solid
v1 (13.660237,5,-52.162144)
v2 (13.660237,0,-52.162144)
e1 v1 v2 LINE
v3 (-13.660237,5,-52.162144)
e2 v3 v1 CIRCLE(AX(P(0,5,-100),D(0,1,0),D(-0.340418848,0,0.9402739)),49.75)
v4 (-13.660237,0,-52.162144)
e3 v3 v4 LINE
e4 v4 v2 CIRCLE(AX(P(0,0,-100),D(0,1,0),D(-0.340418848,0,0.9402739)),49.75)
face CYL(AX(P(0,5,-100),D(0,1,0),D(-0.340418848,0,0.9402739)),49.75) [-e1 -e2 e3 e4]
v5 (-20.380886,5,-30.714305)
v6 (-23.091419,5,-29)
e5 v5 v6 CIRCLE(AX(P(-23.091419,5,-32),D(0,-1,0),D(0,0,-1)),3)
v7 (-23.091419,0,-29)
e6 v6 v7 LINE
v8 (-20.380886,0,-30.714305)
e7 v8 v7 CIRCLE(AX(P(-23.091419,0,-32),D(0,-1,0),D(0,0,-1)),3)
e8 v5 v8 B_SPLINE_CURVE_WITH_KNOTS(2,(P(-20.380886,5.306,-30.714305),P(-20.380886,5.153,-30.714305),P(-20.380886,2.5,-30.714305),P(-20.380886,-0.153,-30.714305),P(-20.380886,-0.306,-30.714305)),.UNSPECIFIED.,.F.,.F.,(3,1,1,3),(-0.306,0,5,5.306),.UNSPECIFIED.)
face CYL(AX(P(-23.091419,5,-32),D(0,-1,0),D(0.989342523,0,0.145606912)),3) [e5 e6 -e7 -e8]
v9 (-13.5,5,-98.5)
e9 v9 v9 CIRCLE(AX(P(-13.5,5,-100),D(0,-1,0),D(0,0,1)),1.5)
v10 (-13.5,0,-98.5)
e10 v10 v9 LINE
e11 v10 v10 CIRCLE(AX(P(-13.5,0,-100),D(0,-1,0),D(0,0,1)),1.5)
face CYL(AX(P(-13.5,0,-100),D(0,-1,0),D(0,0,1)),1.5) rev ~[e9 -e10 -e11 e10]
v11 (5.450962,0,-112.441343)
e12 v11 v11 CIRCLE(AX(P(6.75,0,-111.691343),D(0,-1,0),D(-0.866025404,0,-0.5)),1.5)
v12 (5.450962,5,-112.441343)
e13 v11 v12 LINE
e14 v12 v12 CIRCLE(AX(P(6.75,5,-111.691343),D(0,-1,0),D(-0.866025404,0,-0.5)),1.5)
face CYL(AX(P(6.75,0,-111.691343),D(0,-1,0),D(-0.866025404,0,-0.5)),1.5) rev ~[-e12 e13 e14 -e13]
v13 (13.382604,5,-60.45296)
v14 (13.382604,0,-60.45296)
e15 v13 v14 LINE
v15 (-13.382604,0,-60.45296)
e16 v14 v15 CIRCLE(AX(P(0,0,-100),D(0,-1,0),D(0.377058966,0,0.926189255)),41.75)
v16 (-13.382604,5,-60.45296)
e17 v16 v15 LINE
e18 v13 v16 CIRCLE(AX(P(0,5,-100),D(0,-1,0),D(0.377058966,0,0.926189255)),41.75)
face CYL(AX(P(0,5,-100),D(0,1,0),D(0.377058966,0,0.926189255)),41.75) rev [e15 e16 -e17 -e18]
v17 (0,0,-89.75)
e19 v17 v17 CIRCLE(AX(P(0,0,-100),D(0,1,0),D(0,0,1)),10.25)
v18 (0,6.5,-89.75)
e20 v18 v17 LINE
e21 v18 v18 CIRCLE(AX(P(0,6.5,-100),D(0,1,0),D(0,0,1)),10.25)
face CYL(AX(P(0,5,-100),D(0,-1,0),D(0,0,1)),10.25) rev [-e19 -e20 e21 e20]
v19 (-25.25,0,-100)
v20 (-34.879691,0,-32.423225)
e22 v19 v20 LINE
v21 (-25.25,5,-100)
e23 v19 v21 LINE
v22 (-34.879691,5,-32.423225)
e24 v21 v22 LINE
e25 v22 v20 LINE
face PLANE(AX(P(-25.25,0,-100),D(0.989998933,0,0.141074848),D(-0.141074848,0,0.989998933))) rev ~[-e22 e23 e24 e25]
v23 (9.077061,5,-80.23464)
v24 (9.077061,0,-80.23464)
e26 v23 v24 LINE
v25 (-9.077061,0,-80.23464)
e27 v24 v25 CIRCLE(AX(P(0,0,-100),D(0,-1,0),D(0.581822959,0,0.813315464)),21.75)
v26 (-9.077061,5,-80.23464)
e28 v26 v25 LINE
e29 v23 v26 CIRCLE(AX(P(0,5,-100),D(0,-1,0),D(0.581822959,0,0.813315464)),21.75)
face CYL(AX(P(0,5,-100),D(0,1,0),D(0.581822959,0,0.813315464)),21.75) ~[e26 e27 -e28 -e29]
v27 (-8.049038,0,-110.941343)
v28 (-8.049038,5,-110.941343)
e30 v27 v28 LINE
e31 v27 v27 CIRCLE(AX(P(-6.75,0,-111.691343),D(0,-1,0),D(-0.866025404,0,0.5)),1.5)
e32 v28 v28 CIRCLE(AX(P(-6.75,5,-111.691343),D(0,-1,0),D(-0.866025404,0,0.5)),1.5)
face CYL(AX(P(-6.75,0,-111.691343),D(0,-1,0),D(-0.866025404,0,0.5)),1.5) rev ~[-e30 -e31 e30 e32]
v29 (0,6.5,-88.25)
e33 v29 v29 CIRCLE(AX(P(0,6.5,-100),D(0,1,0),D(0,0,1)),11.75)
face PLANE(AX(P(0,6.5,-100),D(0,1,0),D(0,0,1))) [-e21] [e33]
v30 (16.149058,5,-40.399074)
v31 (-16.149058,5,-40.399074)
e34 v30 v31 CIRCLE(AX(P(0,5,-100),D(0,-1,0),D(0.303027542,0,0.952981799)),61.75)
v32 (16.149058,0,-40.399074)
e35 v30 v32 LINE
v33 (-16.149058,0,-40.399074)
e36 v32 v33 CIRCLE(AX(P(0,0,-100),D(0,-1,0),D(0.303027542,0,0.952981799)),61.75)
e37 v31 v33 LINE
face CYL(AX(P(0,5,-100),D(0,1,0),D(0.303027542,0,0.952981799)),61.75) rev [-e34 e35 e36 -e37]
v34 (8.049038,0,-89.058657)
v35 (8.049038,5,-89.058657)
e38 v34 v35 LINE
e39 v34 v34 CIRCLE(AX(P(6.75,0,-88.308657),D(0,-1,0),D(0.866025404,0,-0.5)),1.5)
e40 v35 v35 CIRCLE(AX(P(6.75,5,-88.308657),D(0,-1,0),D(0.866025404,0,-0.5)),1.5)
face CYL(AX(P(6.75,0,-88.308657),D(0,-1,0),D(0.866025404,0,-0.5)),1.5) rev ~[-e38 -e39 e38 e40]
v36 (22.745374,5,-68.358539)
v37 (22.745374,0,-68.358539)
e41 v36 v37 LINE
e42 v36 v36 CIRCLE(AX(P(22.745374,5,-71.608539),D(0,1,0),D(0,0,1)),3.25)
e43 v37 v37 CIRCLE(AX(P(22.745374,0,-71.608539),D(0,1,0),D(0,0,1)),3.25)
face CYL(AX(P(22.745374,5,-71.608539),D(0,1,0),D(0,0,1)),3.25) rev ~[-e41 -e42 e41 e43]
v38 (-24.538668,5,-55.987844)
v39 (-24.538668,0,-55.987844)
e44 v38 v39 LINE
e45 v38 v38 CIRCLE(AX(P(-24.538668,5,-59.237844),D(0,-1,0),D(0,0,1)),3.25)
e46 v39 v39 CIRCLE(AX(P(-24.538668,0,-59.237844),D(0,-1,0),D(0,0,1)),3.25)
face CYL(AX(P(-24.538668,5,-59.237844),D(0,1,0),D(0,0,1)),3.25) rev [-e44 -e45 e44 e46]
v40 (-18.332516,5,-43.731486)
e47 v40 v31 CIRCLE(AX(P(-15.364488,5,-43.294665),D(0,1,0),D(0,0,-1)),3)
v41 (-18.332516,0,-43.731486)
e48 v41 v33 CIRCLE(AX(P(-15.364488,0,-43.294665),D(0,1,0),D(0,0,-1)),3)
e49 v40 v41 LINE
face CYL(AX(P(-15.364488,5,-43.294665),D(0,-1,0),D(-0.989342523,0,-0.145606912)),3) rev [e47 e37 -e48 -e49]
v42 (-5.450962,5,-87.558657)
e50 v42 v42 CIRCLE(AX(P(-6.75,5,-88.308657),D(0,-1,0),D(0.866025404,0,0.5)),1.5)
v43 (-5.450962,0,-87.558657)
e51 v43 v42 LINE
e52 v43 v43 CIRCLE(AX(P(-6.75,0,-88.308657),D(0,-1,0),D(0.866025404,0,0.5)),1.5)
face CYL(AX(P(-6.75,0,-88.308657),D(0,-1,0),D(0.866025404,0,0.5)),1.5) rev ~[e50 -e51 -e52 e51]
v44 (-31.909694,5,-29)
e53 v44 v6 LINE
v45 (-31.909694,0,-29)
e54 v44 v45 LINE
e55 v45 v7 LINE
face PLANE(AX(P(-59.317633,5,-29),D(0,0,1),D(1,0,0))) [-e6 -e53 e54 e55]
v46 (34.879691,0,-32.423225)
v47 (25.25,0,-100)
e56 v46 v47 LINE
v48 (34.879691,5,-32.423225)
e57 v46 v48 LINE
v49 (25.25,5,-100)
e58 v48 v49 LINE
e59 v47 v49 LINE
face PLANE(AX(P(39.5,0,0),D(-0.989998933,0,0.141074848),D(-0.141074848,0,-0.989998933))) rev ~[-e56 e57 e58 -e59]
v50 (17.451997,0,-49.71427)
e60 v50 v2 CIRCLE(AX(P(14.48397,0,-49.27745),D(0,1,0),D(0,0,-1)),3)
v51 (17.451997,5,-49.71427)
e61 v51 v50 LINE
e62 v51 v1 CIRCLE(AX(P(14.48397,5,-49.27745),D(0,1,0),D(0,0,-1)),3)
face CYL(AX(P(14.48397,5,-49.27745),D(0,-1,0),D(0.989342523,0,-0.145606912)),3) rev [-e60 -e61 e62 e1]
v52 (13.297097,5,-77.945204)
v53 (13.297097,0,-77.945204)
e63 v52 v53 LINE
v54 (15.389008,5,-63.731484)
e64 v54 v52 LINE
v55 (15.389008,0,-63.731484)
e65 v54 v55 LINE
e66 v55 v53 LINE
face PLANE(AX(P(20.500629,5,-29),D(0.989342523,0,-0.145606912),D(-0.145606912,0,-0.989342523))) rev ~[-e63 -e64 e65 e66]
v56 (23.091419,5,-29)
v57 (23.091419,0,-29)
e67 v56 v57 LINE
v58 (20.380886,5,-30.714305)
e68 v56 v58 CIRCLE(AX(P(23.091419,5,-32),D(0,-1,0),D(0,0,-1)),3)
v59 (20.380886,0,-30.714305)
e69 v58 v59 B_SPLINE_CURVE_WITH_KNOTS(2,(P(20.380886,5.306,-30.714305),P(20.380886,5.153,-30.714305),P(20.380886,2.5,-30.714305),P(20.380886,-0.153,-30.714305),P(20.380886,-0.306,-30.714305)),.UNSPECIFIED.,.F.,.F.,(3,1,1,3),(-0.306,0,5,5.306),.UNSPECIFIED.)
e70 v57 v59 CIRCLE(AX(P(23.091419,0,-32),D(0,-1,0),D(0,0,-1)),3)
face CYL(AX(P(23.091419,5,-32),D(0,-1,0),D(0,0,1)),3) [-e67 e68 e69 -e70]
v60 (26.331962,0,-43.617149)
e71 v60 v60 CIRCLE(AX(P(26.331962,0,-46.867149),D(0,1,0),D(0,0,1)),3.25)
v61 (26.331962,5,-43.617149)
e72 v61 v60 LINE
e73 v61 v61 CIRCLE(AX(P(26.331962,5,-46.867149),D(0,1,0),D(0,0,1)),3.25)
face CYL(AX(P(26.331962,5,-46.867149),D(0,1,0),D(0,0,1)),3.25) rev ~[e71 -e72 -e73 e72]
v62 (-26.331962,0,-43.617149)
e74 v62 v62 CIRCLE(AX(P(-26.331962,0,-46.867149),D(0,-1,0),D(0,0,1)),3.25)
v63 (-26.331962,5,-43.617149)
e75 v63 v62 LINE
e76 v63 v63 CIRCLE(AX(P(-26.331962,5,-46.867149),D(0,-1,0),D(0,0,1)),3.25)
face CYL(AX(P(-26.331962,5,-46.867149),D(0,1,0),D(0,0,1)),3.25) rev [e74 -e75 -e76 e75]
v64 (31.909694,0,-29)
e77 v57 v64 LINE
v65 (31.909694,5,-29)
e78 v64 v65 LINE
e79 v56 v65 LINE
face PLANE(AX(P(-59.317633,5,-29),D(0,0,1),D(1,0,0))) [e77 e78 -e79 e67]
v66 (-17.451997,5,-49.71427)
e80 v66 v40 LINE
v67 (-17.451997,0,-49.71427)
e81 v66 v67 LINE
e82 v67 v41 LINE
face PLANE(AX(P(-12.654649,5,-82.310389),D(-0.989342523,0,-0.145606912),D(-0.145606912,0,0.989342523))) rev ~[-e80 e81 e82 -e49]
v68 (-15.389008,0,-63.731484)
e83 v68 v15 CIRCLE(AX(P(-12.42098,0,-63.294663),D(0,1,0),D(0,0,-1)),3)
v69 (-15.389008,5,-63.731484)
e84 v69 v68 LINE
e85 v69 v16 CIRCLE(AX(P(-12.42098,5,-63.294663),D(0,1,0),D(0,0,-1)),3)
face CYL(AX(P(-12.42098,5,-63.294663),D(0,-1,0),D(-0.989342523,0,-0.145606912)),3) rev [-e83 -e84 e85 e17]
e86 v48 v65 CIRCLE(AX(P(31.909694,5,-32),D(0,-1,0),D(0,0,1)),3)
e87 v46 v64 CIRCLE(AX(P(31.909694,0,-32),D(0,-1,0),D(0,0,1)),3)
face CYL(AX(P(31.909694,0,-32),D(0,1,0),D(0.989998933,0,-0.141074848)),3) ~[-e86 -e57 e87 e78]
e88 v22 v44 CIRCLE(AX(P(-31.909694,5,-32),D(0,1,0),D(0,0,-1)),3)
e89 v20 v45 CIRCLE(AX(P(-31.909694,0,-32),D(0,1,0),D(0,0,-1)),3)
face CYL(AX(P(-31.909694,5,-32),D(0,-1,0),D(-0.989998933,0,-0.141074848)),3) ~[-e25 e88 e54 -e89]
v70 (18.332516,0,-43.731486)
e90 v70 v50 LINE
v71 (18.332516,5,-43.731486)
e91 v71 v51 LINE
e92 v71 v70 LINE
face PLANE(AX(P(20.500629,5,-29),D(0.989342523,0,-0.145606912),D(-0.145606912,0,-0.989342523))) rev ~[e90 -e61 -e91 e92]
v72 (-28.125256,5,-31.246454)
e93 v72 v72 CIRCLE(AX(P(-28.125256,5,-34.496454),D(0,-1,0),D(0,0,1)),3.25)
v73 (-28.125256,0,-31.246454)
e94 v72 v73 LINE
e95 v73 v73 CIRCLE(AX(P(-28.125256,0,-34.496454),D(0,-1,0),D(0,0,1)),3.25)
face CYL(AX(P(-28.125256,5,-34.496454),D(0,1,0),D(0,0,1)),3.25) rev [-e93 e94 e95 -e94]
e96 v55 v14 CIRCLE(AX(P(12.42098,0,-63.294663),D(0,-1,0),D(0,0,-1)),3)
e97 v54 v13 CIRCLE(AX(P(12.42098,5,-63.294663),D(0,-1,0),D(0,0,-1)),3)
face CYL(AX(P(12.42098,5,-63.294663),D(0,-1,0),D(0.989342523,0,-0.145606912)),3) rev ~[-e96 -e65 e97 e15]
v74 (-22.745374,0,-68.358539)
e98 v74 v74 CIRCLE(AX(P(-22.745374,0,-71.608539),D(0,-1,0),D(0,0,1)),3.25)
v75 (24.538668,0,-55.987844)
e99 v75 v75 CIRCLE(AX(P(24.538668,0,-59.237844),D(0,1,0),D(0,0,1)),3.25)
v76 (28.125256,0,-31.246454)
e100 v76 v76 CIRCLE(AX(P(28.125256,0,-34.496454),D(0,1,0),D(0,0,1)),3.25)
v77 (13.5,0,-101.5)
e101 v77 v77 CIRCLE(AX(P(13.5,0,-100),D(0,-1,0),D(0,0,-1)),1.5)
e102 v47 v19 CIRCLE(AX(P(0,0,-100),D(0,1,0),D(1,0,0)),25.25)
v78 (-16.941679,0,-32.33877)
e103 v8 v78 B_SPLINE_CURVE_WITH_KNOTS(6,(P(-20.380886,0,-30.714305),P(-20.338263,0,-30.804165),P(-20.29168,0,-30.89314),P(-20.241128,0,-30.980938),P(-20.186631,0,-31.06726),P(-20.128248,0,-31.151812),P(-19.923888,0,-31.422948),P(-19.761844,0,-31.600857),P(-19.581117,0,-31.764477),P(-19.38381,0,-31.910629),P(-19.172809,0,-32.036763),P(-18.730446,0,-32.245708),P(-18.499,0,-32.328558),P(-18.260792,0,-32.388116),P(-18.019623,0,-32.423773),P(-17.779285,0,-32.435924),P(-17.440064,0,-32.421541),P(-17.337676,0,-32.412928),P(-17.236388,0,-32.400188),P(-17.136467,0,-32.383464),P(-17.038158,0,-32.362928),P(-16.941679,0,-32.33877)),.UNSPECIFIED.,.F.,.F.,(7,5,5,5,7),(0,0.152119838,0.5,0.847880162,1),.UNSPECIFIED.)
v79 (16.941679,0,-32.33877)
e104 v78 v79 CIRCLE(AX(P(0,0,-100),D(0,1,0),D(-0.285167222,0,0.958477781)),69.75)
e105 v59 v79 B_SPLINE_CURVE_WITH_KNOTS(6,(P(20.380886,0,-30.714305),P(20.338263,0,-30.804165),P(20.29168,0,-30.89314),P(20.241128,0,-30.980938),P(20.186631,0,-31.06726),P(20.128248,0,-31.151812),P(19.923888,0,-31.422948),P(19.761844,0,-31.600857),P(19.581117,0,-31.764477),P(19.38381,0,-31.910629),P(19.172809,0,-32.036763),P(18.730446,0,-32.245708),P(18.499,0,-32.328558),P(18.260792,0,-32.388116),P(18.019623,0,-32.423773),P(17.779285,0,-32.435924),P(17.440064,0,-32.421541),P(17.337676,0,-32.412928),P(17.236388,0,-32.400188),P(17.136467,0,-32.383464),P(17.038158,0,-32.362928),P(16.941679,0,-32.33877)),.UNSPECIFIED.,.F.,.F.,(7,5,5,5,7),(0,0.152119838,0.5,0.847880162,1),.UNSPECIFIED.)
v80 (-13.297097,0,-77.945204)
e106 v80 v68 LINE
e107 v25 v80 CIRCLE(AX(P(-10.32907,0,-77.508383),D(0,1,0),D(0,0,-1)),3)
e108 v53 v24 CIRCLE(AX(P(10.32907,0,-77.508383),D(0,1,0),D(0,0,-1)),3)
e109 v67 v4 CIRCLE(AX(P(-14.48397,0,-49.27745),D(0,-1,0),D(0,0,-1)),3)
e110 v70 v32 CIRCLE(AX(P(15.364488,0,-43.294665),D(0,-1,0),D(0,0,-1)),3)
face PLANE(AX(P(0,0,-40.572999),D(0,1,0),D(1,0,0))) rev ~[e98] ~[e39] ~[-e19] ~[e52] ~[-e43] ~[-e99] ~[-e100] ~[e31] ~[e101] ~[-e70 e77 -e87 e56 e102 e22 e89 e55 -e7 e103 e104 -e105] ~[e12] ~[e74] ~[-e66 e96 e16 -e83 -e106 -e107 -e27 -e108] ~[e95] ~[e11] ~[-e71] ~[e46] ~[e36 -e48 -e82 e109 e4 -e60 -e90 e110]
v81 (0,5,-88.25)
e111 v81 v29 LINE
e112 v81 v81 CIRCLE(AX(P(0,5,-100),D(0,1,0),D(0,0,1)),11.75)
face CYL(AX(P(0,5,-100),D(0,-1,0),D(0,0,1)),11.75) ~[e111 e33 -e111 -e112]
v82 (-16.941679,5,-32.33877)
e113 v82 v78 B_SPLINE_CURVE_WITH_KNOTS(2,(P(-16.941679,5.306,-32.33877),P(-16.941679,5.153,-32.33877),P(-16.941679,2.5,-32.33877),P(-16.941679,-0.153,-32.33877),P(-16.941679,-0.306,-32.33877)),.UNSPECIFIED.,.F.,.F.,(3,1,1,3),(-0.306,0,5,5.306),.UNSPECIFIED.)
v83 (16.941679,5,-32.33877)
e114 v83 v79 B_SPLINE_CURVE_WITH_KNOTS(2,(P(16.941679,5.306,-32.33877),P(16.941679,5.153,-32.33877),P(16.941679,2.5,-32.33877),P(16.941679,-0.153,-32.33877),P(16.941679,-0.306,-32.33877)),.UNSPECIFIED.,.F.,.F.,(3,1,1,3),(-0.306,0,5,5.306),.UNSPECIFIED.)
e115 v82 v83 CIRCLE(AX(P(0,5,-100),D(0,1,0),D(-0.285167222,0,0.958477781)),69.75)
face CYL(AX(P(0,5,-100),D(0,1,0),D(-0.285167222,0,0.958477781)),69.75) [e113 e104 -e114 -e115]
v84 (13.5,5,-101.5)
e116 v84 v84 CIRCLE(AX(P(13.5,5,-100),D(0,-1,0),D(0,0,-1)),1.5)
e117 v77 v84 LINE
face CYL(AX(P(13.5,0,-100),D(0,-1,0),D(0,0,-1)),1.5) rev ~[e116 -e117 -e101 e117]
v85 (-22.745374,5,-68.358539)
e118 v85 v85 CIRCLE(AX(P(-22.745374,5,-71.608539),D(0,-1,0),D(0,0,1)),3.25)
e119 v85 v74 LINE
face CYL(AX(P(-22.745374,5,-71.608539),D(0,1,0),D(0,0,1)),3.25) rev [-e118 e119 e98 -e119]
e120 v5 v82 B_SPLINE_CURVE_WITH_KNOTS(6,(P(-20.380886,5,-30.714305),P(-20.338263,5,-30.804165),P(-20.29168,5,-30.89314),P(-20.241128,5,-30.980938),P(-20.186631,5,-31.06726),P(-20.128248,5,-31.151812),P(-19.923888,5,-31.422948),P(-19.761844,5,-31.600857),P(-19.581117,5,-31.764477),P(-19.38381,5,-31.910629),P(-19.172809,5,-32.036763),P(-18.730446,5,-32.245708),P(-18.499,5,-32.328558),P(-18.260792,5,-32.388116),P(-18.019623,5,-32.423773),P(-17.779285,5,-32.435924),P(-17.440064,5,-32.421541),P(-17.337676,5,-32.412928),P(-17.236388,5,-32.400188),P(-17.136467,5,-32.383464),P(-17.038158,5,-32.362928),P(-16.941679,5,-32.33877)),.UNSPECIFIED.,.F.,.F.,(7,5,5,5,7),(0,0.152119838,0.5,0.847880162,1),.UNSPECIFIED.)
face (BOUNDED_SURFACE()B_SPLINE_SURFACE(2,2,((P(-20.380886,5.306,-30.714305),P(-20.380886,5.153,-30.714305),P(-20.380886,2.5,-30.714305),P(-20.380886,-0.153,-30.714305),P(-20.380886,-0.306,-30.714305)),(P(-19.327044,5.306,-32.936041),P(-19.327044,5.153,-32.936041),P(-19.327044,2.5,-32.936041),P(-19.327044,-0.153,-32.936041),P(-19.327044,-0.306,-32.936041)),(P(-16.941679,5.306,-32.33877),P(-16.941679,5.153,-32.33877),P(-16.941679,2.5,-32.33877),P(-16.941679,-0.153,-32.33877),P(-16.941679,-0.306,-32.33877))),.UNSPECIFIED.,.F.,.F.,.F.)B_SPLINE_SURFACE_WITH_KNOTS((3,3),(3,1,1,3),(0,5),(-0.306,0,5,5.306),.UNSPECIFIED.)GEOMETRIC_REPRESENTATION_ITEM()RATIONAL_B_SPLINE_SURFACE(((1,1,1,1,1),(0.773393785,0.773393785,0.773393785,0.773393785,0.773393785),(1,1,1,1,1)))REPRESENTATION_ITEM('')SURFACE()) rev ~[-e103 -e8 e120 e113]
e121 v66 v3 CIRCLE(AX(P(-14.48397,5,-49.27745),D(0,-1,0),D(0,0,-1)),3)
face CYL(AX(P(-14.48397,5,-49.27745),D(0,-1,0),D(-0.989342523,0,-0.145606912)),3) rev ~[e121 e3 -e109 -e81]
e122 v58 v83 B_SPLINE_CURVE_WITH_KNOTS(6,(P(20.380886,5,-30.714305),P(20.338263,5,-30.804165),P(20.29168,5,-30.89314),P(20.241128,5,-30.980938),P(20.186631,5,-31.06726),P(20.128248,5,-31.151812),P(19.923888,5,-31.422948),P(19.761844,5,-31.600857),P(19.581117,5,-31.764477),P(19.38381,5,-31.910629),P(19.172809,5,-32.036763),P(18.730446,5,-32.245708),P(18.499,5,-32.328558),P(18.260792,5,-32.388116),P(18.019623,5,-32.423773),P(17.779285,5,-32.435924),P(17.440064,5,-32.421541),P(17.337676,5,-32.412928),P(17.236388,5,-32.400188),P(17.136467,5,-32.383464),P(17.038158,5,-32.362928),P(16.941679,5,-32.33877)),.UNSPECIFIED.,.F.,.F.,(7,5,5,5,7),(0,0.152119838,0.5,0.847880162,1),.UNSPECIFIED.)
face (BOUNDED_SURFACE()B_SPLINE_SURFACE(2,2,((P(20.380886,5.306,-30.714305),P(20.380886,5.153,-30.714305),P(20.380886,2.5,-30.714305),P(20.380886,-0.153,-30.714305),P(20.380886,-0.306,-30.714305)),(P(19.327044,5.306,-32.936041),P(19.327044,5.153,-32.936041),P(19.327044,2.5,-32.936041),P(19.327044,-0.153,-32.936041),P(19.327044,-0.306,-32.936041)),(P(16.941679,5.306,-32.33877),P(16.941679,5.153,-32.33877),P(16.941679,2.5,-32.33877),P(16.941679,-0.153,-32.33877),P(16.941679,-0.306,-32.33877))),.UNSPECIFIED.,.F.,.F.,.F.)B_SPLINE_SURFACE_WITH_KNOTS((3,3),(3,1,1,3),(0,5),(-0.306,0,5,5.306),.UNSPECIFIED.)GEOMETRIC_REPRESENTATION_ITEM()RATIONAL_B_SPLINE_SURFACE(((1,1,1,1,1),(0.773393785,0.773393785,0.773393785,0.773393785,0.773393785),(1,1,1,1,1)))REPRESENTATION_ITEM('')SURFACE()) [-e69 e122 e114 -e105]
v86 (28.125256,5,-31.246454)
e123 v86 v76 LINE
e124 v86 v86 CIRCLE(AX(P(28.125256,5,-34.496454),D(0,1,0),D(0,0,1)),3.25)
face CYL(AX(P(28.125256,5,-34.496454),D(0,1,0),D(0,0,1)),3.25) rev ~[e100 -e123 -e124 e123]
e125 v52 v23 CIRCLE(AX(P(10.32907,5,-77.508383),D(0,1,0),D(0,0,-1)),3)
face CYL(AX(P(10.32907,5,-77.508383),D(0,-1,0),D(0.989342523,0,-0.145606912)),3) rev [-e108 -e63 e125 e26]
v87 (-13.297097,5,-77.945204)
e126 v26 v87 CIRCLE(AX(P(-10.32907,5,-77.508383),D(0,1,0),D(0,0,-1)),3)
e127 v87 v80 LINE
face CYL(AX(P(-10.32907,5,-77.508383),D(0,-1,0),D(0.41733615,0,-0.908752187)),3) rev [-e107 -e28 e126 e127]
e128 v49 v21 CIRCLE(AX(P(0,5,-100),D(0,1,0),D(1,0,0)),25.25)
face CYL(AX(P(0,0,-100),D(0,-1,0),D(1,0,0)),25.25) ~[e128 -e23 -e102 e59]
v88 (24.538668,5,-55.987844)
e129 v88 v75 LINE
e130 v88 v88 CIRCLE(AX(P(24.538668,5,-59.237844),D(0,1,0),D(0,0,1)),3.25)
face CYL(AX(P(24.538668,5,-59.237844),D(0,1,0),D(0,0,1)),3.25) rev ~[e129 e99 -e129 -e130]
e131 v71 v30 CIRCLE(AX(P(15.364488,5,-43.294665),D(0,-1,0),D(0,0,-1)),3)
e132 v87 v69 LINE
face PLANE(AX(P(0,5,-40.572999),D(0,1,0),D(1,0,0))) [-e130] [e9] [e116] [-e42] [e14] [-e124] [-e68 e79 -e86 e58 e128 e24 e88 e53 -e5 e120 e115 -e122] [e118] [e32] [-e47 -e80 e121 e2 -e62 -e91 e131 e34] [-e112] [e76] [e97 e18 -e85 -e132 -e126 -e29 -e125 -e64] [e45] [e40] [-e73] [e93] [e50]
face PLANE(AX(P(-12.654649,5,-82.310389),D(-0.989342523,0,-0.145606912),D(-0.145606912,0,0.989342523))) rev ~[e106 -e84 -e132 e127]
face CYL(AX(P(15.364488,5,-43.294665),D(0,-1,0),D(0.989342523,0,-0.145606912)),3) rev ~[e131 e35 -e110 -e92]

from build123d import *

# Parameters (mm, degrees)
SKETCH1_R           = 29
SKETCH1_R_2         = 2.25
SKETCH1_R_3         = 10.25
BOSS_EXTRUDE1_DEPTH = 5
SKETCH4_R           = 11.75
SKETCH4_R_2         = 10.25
BOSS_EXTRUDE2_DEPTH = 1.5
SKETCH12_R          = 3.25
CUT_EXTRUDE5_DEPTH  = 5
SKETCH13_W          = 118.6352657
SKETCH13_H          = 76.236501847
CUT_EXTRUDE6_DEPTH  = 5
CUT_EXTRUDE7_DEPTH  = 5
FILLET2_R           = 3
SKETCH15_R          = 1.5
CUT_EXTRUDE8_DEPTH  = 10
CIRPATTERN1_COUNT   = 6
BOSS_EXTRUDE3_DEPTH = 5
FILLET3_R           = 3


with BuildPart() as part:
    # Sketch1 → Boss-Extrude1 (new body)
    with BuildSketch(Plane(origin=(0, 0, 0), x_dir=(1, 0, 0), z_dir=(0, 1, 0))):
        with BuildLine():
            Line((39.5, 0), (25.25, 100))
            ThreePointArc((25.25, 100), (0, 125.25), (-25.25, 100))
            Line((-25.25, 100), (-39.5, 0))
            ThreePointArc((-39.5, 0), (0, -39.5), (39.5, 0))
        make_face()
        with Locations(Location((0, 0, 0), (0, 0, 270))):
            Circle(SKETCH1_R, mode=Mode.SUBTRACT)
        with Locations(Location((33, 0, 0), (0, 0, 270))):
            Circle(SKETCH1_R_2, mode=Mode.SUBTRACT)
        with Locations(Location((16.5, -28.578838325, 0), (0, 0, 270))):
            Circle(SKETCH1_R_2, mode=Mode.SUBTRACT)
        with Locations(Location((-16.5, -28.578838325, 0), (0, 0, 270))):
            Circle(SKETCH1_R_2, mode=Mode.SUBTRACT)
        with Locations(Location((-33, 0, 0), (0, 0, 270))):
            Circle(SKETCH1_R_2, mode=Mode.SUBTRACT)
        with Locations(Location((0, 100, 0), (0, 0, 270))):
            Circle(SKETCH1_R_3, mode=Mode.SUBTRACT)
    extrude(amount=BOSS_EXTRUDE1_DEPTH)

    # Sketch4 → Boss-Extrude2 (add)
    with BuildSketch(Plane(origin=(0, 5, 0), x_dir=(1, 0, 0), z_dir=(0, 1, 0))):
        with Locations(Location((0, 100, 0), (0, 0, 270))):
            Circle(SKETCH4_R)
        with Locations(Location((0, 100, 0), (0, 0, 270))):
            Circle(SKETCH4_R_2, mode=Mode.SUBTRACT)
    extrude(amount=BOSS_EXTRUDE2_DEPTH)

    # Sketch12 → Cut-Extrude5 (cut)
    with BuildSketch(Plane(origin=(0, 5, 0), x_dir=(1, 0, 0), z_dir=(0, 1, 0))):
        with Locations(Location((28.125255984, 34.496453628, 0), (0, 0, 270))):
            Circle(SKETCH12_R)
        with Locations(Location((26.331961895, 46.867148689, 0), (0, 0, 270))):
            Circle(SKETCH12_R)
        with Locations(Location((24.538667806, 59.237843751, 0), (0, 0, 270))):
            Circle(SKETCH12_R)
        with Locations(Location((22.745373716, 71.608538813, 0), (0, 0, 270))):
            Circle(SKETCH12_R)
    cut_extrude5 = extrude(amount=-CUT_EXTRUDE5_DEPTH, mode=Mode.SUBTRACT)

    # Mirror1: Cut-Extrude5 across plane
    add(cut_extrude5.mirror(Plane(origin=(0, 0, 0), x_dir=(0, 0, 1), z_dir=(1, 0, 0))), mode=Mode.SUBTRACT)

    # Sketch13 → Cut-Extrude6 (cut)
    with BuildSketch(Plane(origin=(0, 5, 0), x_dir=(1, 0, 0), z_dir=(0, 1, 0))):
        with Locations((0, -9.118250923)):
            Rectangle(SKETCH13_W, SKETCH13_H)
    extrude(amount=-CUT_EXTRUDE6_DEPTH, mode=Mode.SUBTRACT)

    # Sketch14 → Cut-Extrude7 (cut)
    with BuildSketch(Plane(origin=(0, 5, 0), x_dir=(1, 0, 0), z_dir=(0, 1, 0))):
        with BuildLine():
            Line((-20.500628763, 29), (20.500628763, 29))
            Line((20.500628763, 29), (12.654649355, 82.31038865))
            ThreePointArc((12.654649355, 82.31038865), (0, 78.25), (-12.654649355, 82.31038865))
            Line((-12.654649355, 82.31038865), (-20.500628763, 29))
        make_face()
    extrude(amount=-CUT_EXTRUDE7_DEPTH, mode=Mode.SUBTRACT)

    # Fillet2
    fillet2_edges = [part.edges().sort_by_distance(p)[0] for p in [
        (-20.500628763, 2.5, -29),
        (-12.654649355, 2.5, -82.31038865),
        (12.654649355, 2.5, -82.31038865),
        (20.500628763, 2.5, -29),
        (35.3675, 2.5, -29),
        (-35.3675, 2.5, -29),
    ]]
    fillet(fillet2_edges, radius=FILLET2_R)

    # Sketch15 → Cut-Extrude8 (cut)
    with BuildSketch(Plane.XZ):
        with Locations(Location((13.5, -100, 0), (0, 0, 270))):
            Circle(SKETCH15_R)
    cut_extrude8 = extrude(amount=-CUT_EXTRUDE8_DEPTH, mode=Mode.SUBTRACT)

    # CirPattern1: Cut-Extrude8 ×6 about axis
    cirpattern1_axis = Axis((0, 0, -100), (0, 1, 0))
    for i in range(1, CIRPATTERN1_COUNT):
        add(cut_extrude8.rotate(cirpattern1_axis, i * 360 / CIRPATTERN1_COUNT), mode=Mode.SUBTRACT)

    # Sketch16 → Boss-Extrude3 (add)
    with BuildSketch(Plane(origin=(0, 5, 0), x_dir=(1, 0, 0), z_dir=(0, 1, 0))):
        with BuildLine():
            ThreePointArc((-19.8904137, 33.146174808), (0, 30.25), (19.8904137, 33.146174808))
            Line((19.8904137, 33.146174808), (18.711950722, 41.153373927))
            ThreePointArc((18.711950722, 41.153373927), (0, 38.25), (-18.711950722, 41.153373927))
            Line((-18.711950722, 41.153373927), (-19.8904137, 33.146174808))
        make_face()
        with BuildLine():
            ThreePointArc((-16.935837694, 53.221373453), (0, 50.25), (16.935837694, 53.221373453))
            Line((16.935837694, 53.221373453), (15.742211816, 61.331598596))
            ThreePointArc((15.742211816, 61.331598596), (0, 58.25), (-15.742211816, 61.331598596))
            Line((-15.742211816, 61.331598596), (-16.935837694, 53.221373453))
        make_face()
    extrude(amount=-BOSS_EXTRUDE3_DEPTH)

    # Fillet3
    fillet3_edges = [part.edges().sort_by_distance(p)[0] for p in [
        (-15.742211816, 2.5, -61.331598596),
        (15.742211816, 2.5, -61.331598596),
        (16.935837694, 2.5, -53.221373453),
        (18.711950722, 2.5, -41.153373927),
        (-18.711950722, 2.5, -41.153373927),
        (19.8904137, 2.5, -33.146174808),
        (-16.935837694, 2.5, -53.221373453),
        (-19.8904137, 2.5, -33.146174808),
    ]]
    fillet(fillet3_edges, radius=FILLET3_R)


solid = part.part
